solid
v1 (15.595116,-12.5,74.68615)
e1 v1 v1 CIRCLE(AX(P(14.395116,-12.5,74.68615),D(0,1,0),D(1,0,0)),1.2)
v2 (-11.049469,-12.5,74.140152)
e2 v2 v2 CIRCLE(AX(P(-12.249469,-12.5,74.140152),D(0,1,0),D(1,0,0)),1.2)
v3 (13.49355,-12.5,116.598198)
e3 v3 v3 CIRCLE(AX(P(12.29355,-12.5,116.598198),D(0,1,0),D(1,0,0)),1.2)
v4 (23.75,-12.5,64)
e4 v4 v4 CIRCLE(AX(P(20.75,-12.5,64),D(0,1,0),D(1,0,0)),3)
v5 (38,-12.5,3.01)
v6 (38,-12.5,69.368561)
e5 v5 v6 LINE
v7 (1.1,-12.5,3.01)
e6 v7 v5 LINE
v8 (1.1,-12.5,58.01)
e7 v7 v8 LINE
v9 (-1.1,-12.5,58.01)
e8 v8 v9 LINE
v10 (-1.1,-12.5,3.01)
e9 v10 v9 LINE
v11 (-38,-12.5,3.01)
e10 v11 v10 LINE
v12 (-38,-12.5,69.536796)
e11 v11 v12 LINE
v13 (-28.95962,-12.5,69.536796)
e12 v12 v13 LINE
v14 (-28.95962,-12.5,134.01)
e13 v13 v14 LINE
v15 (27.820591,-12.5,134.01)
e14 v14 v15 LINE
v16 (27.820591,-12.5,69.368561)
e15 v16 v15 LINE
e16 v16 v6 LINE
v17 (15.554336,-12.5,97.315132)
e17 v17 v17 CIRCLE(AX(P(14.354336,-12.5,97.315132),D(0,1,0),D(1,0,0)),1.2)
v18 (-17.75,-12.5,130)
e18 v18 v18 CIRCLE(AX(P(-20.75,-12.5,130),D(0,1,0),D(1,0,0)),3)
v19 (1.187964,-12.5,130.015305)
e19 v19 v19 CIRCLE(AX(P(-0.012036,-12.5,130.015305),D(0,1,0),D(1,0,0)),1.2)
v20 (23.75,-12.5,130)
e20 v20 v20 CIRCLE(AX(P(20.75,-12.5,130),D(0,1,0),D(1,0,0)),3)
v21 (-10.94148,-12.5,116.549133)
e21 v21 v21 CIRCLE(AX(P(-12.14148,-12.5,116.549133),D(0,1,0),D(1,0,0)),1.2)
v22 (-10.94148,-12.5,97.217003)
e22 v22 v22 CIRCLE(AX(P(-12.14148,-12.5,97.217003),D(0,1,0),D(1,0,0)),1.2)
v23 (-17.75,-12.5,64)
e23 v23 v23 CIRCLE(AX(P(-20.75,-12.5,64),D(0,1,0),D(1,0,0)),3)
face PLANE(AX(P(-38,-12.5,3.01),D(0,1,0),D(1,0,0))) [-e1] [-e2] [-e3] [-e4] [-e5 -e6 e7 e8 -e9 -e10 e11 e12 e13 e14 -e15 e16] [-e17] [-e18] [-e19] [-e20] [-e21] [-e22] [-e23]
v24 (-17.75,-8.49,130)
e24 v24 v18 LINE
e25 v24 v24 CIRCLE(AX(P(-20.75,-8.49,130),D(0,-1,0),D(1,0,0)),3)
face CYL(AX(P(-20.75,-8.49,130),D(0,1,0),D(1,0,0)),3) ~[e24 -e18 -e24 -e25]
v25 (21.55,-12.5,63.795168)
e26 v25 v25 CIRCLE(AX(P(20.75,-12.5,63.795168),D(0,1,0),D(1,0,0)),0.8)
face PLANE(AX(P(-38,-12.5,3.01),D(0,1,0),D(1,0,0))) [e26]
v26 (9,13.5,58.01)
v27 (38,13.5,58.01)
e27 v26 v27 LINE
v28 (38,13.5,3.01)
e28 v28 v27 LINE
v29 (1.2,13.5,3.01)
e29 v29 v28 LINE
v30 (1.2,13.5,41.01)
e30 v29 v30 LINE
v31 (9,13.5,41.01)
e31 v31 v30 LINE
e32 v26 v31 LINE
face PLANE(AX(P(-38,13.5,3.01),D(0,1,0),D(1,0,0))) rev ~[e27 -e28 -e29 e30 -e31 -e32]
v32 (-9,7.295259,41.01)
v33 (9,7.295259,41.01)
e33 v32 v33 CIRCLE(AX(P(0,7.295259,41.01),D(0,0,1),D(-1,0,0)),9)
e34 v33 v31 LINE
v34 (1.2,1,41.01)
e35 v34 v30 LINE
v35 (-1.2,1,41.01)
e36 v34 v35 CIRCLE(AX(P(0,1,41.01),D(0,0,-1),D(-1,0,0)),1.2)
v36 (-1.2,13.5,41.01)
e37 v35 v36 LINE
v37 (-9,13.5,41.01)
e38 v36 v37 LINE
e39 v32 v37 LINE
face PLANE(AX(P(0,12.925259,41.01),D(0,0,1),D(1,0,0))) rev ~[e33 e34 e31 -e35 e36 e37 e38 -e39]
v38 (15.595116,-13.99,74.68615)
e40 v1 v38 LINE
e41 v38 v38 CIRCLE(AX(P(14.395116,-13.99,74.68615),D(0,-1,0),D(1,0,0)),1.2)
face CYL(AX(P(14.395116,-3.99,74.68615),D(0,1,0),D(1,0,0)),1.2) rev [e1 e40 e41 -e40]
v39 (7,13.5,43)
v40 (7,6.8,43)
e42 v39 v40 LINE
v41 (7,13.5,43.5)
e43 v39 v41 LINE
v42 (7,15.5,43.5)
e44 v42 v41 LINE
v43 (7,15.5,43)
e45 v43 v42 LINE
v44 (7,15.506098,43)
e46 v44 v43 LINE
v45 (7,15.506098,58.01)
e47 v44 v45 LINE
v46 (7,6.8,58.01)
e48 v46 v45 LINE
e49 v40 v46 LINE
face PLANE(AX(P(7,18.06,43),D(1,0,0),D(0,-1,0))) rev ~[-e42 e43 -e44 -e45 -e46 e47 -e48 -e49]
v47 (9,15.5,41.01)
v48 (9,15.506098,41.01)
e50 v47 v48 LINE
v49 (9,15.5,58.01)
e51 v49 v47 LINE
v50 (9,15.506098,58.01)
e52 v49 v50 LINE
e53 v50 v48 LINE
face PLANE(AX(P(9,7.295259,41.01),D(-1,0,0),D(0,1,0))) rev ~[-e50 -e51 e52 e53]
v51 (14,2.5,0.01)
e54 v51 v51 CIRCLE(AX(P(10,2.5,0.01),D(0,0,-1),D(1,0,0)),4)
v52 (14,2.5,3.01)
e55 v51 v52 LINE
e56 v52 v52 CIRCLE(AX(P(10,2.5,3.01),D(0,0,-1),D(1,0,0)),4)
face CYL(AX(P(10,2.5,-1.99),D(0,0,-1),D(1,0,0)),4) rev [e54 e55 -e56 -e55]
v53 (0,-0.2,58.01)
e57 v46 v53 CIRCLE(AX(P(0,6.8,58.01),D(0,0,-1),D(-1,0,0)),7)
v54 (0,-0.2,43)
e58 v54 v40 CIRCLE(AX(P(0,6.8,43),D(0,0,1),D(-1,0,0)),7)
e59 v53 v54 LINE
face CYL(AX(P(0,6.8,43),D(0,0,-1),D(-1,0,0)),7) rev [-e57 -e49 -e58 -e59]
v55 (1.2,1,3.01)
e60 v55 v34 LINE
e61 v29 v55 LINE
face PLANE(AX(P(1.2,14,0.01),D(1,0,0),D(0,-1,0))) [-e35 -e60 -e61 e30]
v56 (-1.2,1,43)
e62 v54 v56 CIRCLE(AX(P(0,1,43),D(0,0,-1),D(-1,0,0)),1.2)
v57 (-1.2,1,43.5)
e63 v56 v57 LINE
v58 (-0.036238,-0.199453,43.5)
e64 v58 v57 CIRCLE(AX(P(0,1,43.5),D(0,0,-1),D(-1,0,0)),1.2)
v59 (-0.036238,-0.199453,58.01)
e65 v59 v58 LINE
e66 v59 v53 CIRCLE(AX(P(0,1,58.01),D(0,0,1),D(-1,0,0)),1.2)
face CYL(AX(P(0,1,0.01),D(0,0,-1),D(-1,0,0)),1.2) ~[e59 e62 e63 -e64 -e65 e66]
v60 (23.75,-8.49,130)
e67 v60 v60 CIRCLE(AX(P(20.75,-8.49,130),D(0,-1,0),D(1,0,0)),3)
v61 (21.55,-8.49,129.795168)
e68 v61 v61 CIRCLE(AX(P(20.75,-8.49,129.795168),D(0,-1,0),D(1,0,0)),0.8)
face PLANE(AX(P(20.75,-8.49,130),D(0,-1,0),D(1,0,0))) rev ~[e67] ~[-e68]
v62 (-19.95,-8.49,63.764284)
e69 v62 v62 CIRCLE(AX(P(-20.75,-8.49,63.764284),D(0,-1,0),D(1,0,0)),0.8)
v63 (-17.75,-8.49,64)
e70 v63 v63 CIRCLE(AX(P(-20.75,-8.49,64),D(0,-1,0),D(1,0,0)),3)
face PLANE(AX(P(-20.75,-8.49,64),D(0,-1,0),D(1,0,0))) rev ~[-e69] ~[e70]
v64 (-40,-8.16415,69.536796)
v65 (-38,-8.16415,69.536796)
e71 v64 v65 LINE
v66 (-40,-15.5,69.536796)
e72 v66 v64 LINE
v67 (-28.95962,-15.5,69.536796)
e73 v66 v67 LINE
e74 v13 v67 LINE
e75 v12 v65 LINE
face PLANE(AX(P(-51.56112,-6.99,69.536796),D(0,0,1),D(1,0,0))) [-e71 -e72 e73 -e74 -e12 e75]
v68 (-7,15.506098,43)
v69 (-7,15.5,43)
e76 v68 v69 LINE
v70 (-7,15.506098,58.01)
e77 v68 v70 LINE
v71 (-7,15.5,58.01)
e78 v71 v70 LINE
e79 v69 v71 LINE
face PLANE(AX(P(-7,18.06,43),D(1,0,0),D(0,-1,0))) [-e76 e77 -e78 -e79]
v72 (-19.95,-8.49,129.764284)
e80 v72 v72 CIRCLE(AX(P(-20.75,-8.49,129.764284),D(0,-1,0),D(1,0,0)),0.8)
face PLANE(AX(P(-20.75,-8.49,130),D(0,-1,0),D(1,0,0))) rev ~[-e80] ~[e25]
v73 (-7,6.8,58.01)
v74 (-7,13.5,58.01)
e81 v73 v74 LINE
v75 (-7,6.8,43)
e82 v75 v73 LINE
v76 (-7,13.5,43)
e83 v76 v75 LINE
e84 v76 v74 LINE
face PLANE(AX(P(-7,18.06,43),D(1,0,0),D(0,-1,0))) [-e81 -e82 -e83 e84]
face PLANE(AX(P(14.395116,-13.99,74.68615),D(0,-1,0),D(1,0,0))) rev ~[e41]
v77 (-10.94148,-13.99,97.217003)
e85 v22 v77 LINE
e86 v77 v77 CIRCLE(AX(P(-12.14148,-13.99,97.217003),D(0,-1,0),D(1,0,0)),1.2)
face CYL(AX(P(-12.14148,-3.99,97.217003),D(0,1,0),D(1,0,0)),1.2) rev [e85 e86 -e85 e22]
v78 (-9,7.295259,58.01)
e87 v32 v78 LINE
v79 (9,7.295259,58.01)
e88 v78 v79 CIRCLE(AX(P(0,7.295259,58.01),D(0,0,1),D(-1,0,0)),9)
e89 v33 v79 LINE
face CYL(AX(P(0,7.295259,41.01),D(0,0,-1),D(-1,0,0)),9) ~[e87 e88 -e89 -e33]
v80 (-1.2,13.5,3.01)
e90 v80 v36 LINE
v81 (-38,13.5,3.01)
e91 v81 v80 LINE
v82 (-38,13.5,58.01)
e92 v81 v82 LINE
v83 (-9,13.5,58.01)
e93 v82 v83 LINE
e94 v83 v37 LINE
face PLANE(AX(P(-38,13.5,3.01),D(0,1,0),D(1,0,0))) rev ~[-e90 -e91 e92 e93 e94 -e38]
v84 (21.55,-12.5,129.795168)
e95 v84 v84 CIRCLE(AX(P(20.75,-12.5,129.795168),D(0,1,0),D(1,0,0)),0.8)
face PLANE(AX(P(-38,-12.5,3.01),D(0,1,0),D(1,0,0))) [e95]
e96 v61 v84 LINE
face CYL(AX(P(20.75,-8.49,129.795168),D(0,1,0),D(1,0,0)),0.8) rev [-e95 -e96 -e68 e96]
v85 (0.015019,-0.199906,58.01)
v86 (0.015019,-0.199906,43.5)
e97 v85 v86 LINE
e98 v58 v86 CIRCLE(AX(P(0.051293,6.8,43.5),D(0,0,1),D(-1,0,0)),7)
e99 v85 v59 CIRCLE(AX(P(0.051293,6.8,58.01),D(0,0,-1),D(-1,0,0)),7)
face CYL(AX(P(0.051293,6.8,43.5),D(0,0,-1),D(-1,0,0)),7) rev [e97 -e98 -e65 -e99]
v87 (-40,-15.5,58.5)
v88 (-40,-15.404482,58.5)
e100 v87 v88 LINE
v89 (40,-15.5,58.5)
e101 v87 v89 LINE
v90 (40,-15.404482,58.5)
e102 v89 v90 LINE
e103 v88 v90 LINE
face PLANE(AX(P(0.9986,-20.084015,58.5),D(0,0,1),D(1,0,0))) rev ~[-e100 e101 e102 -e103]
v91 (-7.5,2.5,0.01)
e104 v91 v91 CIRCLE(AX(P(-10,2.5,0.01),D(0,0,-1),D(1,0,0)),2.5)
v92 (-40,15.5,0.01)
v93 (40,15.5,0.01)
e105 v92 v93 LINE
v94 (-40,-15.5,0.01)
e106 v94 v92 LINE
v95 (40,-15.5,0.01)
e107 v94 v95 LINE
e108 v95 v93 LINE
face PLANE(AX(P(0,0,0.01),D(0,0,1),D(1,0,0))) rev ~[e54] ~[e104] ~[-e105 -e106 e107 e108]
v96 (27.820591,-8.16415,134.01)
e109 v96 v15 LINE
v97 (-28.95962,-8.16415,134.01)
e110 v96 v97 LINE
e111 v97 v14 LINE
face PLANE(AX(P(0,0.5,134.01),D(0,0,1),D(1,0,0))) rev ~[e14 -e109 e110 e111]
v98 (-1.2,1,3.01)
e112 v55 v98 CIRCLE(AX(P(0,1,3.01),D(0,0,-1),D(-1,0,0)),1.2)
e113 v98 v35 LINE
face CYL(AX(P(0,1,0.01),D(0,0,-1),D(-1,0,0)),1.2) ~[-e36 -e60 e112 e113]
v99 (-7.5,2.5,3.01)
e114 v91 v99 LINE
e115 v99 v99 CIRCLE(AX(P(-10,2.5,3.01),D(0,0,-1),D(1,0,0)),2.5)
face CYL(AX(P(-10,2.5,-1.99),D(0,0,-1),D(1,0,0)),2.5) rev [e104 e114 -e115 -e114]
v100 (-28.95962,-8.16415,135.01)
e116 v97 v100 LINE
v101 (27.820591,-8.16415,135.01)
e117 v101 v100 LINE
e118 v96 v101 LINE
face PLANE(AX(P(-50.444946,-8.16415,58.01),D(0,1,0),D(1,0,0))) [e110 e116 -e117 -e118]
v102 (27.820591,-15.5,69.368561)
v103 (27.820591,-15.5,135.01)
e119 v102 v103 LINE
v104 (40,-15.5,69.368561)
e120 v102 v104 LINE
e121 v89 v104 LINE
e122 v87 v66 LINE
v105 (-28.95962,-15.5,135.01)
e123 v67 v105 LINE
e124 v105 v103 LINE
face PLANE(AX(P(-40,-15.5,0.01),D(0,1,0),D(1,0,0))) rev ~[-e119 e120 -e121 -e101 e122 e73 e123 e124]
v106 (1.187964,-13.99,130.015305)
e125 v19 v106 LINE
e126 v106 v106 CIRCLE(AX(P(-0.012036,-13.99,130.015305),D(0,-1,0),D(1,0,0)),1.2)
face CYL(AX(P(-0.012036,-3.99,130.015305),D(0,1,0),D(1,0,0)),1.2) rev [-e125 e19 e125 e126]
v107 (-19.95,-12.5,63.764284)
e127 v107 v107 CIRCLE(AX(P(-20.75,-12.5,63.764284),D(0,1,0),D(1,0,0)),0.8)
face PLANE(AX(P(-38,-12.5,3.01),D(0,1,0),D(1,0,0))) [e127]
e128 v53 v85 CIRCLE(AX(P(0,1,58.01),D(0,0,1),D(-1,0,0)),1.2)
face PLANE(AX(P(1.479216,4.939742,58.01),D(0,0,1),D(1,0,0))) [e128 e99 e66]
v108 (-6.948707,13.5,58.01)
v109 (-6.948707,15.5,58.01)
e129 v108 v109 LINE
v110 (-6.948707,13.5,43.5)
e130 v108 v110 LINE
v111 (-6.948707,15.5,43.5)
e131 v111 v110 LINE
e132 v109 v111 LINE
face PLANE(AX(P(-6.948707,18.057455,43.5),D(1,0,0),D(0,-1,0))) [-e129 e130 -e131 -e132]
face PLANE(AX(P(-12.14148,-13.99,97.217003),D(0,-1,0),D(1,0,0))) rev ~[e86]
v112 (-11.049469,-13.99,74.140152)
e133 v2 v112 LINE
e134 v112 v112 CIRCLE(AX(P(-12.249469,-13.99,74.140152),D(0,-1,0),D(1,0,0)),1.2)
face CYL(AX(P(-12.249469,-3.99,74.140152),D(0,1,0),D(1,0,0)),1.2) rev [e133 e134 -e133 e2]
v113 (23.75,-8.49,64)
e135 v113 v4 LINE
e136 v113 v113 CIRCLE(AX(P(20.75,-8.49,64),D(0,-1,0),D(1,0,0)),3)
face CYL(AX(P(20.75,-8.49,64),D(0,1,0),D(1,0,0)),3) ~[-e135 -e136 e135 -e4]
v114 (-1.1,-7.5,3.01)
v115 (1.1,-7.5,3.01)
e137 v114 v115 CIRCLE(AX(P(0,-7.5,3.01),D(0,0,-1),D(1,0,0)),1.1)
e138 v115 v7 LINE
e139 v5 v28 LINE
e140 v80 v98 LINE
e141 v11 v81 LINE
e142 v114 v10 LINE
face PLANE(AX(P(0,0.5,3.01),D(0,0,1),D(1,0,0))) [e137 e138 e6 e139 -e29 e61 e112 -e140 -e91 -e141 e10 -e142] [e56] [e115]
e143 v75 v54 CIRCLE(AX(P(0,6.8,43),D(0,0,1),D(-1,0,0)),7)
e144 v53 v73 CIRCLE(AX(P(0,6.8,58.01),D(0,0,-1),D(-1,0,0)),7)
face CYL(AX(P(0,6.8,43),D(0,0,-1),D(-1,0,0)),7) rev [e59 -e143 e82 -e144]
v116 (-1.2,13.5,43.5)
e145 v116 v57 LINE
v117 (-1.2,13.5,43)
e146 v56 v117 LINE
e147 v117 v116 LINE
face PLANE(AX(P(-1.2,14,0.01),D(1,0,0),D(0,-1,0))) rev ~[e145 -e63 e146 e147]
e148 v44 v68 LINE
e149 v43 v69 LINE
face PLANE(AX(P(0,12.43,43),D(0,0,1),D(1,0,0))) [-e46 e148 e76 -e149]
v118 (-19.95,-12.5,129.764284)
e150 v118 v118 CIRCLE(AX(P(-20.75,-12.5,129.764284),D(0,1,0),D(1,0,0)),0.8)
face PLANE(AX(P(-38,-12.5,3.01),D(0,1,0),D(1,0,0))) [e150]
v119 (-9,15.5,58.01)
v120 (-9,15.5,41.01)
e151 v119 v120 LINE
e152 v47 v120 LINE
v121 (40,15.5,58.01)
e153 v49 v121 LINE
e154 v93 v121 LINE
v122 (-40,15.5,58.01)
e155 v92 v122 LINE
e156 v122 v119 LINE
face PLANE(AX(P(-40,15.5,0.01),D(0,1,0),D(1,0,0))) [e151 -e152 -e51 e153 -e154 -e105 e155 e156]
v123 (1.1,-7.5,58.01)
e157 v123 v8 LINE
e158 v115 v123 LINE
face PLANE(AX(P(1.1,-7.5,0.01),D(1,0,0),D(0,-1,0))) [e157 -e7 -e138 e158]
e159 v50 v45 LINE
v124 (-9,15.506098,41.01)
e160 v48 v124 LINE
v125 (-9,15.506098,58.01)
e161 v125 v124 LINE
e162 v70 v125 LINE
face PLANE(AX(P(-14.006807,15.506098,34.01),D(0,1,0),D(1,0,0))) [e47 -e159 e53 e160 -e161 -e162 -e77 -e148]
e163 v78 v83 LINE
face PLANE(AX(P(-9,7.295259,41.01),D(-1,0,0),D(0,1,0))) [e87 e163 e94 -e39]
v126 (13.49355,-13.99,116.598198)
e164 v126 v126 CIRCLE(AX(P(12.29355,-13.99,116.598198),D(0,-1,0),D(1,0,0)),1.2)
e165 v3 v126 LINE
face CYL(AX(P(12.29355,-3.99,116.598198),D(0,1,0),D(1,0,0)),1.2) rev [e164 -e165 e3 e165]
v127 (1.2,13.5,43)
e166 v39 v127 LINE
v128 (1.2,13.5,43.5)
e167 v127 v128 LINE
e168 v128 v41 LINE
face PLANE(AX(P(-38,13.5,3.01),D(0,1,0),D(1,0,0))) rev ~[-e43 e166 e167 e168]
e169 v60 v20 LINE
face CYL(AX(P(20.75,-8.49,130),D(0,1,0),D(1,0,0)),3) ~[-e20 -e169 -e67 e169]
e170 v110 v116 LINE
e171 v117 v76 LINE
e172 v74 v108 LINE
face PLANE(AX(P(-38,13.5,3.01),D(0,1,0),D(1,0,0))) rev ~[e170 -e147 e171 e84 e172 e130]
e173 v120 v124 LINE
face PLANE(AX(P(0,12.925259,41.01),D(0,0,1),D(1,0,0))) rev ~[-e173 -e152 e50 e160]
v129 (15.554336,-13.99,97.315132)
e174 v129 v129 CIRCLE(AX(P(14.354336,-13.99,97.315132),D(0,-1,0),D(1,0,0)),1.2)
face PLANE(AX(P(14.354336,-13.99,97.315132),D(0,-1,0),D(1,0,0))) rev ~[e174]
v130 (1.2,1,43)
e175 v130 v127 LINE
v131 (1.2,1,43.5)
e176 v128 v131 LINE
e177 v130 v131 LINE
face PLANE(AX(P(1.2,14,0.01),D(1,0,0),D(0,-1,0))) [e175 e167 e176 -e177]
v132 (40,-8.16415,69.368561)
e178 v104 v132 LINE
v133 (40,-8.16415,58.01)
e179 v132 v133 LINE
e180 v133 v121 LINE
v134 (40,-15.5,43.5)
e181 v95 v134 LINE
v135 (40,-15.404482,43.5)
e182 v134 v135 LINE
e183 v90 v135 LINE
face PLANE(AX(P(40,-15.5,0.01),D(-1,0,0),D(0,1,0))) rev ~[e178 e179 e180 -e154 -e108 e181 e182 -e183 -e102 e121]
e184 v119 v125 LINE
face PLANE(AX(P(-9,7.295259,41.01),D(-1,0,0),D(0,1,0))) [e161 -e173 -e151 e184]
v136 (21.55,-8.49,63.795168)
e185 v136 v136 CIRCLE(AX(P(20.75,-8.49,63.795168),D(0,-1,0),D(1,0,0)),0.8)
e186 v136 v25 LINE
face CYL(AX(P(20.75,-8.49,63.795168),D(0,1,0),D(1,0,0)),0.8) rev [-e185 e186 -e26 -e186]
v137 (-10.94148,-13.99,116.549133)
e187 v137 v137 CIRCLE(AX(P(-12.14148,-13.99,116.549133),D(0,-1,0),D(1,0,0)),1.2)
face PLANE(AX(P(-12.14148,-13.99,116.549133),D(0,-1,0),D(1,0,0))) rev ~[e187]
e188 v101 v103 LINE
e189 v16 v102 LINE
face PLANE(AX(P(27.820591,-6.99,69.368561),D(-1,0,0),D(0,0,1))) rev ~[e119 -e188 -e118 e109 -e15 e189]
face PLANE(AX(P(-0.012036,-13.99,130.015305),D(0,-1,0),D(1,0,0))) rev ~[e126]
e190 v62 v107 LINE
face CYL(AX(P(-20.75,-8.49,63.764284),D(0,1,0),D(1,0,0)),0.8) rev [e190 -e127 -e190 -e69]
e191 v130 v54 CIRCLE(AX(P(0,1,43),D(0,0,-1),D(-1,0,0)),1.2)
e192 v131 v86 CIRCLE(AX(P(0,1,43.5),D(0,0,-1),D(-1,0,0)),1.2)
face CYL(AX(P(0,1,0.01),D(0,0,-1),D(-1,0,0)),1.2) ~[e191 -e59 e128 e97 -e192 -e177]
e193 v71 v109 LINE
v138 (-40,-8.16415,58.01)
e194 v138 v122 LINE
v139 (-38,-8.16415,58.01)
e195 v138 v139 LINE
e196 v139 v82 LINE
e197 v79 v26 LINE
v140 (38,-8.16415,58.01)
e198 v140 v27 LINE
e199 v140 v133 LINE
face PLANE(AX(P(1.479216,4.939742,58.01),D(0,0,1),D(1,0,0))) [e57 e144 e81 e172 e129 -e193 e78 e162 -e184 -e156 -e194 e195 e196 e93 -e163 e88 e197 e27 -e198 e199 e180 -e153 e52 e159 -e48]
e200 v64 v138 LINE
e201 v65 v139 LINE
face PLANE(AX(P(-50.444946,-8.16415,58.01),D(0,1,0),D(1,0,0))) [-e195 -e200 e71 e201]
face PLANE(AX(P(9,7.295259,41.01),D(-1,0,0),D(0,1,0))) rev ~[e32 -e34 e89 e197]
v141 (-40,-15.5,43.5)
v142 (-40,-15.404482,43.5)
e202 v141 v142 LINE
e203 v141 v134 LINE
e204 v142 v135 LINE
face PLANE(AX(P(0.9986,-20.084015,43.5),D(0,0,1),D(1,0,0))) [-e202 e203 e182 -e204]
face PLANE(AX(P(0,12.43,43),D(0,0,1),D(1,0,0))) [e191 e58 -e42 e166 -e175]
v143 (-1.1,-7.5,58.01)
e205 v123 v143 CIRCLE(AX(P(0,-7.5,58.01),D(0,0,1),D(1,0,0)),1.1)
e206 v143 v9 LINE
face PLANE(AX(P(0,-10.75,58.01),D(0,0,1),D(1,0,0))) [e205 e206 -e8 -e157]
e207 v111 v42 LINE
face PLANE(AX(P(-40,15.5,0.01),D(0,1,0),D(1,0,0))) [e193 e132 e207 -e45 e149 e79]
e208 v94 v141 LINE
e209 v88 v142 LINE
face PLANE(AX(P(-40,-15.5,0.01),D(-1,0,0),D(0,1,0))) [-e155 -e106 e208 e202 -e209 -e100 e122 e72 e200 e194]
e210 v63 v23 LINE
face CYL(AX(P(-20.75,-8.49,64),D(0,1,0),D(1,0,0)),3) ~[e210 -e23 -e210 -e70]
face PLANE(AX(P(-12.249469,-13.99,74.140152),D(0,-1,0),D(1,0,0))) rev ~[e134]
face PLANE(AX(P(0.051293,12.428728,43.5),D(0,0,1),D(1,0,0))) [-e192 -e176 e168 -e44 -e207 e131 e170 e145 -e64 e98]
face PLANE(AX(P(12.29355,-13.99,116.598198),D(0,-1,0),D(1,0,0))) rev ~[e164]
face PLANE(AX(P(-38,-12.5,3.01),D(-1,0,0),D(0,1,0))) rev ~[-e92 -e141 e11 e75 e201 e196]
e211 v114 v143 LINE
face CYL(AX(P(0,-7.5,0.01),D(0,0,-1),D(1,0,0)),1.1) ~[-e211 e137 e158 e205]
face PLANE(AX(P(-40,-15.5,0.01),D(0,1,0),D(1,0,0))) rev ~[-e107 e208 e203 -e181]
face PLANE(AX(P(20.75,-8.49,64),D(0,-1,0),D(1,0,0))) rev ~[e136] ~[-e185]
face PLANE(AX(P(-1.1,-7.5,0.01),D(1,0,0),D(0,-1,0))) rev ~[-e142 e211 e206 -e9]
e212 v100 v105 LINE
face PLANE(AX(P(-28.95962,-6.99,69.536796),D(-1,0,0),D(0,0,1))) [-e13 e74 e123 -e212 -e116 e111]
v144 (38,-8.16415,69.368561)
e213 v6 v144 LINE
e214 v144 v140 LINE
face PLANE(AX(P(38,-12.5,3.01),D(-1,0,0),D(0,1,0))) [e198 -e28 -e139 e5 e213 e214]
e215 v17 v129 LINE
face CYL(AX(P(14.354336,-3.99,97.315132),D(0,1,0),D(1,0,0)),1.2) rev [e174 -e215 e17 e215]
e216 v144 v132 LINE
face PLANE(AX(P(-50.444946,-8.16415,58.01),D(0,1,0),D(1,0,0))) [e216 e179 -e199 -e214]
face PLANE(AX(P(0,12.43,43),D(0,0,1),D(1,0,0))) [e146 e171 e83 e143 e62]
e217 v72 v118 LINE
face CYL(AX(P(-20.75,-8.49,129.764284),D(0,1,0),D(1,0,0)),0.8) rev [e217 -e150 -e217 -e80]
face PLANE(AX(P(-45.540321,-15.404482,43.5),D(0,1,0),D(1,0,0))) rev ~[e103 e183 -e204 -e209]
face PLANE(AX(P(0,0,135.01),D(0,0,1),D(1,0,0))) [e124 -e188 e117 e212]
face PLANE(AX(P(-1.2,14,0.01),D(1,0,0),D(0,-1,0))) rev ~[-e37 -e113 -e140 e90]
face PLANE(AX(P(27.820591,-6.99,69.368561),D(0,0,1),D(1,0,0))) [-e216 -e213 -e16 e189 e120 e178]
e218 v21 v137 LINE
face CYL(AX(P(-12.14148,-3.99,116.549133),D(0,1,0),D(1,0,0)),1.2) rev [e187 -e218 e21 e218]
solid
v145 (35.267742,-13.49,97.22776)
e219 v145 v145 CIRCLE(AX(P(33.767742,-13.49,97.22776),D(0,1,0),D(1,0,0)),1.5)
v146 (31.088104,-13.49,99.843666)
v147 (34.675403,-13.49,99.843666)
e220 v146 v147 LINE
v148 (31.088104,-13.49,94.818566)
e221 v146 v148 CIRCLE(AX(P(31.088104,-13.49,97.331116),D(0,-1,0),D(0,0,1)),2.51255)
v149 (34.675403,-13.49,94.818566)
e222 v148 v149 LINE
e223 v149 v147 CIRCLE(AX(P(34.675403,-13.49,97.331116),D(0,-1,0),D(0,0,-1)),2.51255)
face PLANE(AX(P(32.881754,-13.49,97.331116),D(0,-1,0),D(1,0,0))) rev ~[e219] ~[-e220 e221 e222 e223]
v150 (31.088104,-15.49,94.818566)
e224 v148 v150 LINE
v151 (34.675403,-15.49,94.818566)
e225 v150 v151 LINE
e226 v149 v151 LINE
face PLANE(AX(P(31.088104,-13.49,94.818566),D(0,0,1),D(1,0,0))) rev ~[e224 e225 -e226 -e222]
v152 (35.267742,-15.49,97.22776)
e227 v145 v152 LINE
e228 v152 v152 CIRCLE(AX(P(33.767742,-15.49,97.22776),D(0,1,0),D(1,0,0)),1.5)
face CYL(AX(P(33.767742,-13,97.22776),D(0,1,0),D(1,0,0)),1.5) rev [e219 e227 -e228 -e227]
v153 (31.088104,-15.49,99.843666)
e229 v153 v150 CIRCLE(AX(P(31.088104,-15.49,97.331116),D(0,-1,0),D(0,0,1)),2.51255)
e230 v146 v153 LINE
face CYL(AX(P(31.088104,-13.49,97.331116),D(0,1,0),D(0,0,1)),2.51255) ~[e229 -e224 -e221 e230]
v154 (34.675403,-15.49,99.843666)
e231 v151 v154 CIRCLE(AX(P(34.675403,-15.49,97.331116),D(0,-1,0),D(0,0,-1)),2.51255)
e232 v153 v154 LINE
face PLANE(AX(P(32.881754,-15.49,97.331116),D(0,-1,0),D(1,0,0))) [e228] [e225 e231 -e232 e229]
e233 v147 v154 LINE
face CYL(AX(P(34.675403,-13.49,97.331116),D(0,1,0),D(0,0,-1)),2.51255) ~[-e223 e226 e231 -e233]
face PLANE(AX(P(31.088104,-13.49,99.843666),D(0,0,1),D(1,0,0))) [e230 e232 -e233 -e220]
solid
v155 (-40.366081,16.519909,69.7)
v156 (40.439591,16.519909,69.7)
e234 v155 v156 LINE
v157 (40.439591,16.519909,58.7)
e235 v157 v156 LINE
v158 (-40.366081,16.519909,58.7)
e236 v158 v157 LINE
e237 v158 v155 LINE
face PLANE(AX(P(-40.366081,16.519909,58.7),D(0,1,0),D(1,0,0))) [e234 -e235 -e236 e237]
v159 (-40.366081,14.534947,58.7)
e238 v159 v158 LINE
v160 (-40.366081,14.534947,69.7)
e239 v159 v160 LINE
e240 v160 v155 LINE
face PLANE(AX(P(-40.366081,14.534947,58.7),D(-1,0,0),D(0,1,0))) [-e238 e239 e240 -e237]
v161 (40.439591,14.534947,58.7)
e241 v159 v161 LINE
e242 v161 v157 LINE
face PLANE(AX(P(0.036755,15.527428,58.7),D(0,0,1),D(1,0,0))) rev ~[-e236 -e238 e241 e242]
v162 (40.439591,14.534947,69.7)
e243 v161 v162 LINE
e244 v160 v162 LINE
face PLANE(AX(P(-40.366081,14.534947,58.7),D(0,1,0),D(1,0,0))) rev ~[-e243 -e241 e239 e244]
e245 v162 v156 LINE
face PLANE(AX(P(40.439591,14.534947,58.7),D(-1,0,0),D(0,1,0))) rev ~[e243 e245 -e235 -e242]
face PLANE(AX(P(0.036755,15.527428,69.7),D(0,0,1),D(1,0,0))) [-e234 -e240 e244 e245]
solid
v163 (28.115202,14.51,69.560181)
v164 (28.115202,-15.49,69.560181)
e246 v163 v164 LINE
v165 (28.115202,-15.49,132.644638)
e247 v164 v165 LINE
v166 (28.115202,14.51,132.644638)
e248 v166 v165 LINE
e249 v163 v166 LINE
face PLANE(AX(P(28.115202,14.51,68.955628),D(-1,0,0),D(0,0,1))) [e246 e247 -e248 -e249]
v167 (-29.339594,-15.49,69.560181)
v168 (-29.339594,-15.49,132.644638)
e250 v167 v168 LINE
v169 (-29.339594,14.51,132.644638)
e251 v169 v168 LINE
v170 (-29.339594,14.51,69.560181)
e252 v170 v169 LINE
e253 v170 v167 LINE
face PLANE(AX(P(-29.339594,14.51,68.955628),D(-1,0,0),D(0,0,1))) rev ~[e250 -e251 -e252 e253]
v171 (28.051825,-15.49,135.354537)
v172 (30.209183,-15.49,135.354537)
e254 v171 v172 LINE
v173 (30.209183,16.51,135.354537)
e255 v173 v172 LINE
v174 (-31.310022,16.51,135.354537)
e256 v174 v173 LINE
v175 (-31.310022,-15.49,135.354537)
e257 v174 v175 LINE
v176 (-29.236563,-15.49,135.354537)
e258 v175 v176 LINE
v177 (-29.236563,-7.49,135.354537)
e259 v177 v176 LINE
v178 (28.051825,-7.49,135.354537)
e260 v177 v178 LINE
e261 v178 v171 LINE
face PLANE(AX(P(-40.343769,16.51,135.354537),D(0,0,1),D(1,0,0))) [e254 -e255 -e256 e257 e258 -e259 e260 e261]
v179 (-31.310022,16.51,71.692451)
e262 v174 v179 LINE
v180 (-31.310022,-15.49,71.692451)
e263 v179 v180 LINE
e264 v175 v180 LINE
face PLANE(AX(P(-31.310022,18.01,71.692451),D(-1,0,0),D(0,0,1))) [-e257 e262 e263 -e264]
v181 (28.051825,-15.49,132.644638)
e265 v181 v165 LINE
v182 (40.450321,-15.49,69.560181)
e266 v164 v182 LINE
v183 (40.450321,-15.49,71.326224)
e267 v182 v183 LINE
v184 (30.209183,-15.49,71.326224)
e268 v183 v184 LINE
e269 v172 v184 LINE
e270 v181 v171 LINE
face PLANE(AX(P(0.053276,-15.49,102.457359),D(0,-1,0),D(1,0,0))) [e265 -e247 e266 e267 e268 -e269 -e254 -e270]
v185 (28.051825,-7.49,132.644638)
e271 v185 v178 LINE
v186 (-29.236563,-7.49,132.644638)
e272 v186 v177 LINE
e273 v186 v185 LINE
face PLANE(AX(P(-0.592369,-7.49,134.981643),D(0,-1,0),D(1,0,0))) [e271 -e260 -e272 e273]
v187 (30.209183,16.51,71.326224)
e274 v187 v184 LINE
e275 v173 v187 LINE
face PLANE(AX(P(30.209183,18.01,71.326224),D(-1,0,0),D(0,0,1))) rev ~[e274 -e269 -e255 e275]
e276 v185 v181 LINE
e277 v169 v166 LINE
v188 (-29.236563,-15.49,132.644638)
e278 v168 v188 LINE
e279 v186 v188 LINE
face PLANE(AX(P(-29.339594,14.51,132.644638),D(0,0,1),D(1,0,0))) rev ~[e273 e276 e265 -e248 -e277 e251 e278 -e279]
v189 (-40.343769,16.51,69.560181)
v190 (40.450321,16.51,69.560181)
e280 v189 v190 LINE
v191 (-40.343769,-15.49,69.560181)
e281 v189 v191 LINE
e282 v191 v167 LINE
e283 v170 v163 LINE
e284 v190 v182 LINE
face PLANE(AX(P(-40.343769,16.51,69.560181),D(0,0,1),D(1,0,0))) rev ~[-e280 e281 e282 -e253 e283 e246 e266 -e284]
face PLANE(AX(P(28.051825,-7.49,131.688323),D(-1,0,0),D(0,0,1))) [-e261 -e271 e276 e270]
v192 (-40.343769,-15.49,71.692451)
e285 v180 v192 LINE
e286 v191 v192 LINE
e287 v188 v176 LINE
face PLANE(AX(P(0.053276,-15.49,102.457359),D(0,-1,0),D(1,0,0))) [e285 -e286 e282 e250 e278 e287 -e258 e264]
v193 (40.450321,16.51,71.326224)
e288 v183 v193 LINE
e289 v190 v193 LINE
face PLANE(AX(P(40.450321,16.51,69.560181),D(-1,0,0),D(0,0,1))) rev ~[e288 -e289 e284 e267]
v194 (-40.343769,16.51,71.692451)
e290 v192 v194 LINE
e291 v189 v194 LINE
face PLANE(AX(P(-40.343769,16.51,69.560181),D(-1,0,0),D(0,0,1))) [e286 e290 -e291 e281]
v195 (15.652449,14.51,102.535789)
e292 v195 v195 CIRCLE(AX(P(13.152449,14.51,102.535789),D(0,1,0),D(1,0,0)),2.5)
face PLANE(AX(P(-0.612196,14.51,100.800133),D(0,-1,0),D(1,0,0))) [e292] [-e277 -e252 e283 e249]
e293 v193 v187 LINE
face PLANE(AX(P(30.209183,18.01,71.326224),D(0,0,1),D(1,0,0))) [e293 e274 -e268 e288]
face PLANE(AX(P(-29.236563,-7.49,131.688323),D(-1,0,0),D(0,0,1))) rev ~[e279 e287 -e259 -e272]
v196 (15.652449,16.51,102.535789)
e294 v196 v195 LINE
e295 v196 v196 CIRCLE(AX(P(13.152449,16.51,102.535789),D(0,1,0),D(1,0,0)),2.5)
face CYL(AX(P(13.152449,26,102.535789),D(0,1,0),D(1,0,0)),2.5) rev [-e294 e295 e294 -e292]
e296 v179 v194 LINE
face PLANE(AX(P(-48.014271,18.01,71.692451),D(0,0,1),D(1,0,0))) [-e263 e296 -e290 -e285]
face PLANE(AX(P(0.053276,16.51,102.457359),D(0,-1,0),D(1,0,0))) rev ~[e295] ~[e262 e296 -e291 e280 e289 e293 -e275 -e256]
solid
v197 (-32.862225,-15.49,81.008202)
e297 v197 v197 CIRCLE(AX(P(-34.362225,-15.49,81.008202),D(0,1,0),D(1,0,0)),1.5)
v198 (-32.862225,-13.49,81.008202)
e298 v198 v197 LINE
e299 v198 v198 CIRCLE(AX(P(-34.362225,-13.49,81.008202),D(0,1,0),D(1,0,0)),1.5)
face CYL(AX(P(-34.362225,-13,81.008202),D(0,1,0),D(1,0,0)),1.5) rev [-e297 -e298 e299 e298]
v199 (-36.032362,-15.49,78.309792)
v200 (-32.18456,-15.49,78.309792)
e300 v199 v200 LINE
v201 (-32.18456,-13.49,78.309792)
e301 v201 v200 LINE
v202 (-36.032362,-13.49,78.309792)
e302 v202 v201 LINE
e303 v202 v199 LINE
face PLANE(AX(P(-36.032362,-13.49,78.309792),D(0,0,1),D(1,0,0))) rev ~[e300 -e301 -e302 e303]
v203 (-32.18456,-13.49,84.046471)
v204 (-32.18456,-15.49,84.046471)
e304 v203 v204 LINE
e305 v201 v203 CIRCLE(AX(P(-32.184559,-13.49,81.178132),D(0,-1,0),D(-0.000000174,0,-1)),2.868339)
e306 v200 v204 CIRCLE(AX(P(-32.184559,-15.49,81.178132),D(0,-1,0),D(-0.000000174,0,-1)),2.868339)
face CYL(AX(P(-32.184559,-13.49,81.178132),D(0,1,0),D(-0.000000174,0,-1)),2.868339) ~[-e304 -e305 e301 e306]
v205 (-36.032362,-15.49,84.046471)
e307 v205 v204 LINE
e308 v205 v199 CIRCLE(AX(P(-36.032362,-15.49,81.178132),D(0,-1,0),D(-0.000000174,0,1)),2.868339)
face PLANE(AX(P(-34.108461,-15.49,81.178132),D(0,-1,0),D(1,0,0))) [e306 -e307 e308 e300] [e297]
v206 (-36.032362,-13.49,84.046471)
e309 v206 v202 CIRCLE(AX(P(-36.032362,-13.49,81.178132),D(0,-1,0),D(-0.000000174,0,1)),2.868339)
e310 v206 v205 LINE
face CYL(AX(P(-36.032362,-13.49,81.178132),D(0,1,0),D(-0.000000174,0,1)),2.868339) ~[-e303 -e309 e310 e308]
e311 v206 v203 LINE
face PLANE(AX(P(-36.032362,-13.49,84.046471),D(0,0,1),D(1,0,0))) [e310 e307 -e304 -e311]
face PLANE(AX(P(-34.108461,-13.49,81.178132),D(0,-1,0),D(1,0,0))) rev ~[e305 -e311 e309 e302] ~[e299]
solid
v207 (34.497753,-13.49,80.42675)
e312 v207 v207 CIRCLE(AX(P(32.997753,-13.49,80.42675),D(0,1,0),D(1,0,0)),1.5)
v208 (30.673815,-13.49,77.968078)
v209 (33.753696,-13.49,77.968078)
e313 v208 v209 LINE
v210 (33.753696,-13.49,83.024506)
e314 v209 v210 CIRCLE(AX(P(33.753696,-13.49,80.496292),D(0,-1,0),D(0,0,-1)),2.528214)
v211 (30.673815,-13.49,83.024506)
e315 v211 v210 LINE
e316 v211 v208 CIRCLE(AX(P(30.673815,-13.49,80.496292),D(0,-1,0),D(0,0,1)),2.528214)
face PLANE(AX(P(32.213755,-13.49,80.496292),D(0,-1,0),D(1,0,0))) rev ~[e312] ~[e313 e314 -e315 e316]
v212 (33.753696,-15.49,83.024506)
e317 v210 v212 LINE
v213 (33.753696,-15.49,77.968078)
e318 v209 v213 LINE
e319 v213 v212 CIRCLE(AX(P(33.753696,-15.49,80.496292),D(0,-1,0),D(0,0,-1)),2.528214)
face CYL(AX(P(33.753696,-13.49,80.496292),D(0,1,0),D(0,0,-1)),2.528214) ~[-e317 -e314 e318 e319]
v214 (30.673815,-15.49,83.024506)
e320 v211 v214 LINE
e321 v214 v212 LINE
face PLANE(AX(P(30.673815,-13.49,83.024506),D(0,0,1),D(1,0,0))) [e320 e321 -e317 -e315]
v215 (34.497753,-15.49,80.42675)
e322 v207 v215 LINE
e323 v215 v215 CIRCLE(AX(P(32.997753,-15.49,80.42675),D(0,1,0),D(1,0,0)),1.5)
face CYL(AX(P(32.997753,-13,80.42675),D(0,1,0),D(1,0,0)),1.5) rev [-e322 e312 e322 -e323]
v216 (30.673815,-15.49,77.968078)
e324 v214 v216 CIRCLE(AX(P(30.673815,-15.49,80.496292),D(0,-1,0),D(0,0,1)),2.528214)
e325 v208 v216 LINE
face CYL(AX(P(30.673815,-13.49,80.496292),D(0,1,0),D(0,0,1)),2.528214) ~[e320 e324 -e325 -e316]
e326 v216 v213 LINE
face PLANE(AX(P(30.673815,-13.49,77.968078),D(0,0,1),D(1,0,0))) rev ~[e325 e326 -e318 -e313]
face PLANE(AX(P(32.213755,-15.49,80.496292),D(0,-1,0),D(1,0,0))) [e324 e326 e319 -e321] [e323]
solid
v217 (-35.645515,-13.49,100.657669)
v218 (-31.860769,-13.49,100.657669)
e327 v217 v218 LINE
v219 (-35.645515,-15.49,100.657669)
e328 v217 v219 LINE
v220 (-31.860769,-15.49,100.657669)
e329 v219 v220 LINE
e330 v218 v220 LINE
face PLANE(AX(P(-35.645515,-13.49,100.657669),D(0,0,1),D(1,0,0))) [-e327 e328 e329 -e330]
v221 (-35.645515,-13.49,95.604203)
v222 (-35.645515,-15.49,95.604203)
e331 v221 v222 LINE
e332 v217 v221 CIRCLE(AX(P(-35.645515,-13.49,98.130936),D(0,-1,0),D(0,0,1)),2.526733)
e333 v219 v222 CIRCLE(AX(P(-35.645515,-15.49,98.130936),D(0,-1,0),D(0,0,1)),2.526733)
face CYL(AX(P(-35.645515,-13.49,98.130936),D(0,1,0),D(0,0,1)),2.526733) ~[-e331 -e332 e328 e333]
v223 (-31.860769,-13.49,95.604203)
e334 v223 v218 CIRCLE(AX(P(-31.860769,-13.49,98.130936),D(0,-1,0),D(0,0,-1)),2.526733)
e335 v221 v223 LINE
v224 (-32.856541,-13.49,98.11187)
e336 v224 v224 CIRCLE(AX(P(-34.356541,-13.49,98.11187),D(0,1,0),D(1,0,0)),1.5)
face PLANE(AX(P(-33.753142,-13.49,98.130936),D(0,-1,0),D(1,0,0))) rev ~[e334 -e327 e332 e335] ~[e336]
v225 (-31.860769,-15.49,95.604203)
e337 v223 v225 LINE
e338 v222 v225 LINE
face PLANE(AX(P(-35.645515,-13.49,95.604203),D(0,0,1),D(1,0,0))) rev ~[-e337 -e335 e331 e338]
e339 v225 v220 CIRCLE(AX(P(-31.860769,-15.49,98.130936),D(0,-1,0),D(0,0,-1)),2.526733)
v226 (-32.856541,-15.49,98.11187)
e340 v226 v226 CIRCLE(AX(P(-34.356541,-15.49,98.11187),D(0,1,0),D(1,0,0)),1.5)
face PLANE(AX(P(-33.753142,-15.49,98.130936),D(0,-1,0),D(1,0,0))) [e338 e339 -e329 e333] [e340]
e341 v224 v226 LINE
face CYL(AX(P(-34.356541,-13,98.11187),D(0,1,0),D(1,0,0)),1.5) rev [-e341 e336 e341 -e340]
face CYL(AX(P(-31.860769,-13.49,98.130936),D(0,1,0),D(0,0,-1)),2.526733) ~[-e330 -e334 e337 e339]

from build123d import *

# Parameters (mm, degrees)
SKETCH010_W      = 93.077843
SKETCH010_H      = 9.359066
EXTRUDE009_DEPTH = 15
SKETCH007_R      = 0.8
EXTRUDE006_DEPTH = 7
SKETCH005_R      = 3
EXTRUDE005_DEPTH = 7
SKETCH009_W      = 24.537708
SKETCH009_H      = 68.216004
SKETCH009_W_2    = 22.6015
SKETCH009_H_2    = 69.83175
EXTRUDE008_DEPTH = 10
SKETCH008_R      = 1.2
EXTRUDE007_DEPTH = 10
SKETCH004_R      = 2.5
SKETCH004_R_2    = 4
EXTRUDE004_DEPTH = 10
SKETCH003_W      = 103.848324
SKETCH003_H      = 26.207784
EXTRUDE002_DEPTH = 130
SKETCH001_W      = 76
SKETCH001_H      = 26
EXTRUDE001_DEPTH = 131
SKETCH_W         = 80
SKETCH_H         = 31
EXTRUDE_DEPTH    = 135
EXTRUDE003_DEPTH = 58
SKETCH013_W      = 29.132362
SKETCH013_H      = 15.300188
EXTRUDE012_DEPTH = 25
EXTRUDE010_DEPTH = 23
EXTRUDE011_DEPTH = 17
SKETCH018_W      = 57.288389
SKETCH018_H      = 6.586639
EXTRUDE017_DEPTH = 8
SKETCH017_R      = 2.5
EXTRUDE016_DEPTH = 60
SKETCH016_W      = 17.079002
SKETCH016_H      = 64.598137
SKETCH016_W_2    = 16.704249
SKETCH016_H_2    = 67.157876
EXTRUDE015_DEPTH = 40
SKETCH015_W      = 57.454796
SKETCH015_H      = 63.68901
EXTRUDE014_DEPTH = 30
SKETCH014_W      = 80.79409
SKETCH014_H      = 65.794357
EXTRUDE013_DEPTH = 32
SKETCH020_R      = 1.5
EXTRUDE019_DEPTH = 10
EXTRUDE018_DEPTH = 2
SKETCH021_W      = 80.805672
SKETCH021_H      = 1.984962
PAD_DEPTH        = 11


with BuildPart() as extrude010:
    # Sketch010 → Extrude009 (new body)
    with BuildSketch(Plane(origin=(0, -7, 77), x_dir=(1, 0, 0), z_dir=(0, 0, 1))):
        with BuildLine():
            ThreePointArc((7.051293, 25.057455), (0.051293, 32.057455), (-6.948707, 25.057455))
            Line((-6.948707, 25.057455), (-6.948707, 13.8))
            ThreePointArc((-6.948707, 13.8), (0.051293, 6.8), (7.051293, 13.8))
            Line((7.051293, 25.057455), (7.051293, 13.8))
        make_face()
        with Locations((0.9986, -13.084015)):
            Rectangle(SKETCH010_W, SKETCH010_H)
    extrude(amount=EXTRUDE009_DEPTH)


with BuildPart() as extrude010_1:
    # Extrude009 placement: moved
    add(extrude010.part.moved(Location((0, 0, -33.5))))


with BuildPart() as extrude007:
    # Sketch007 → Extrude006 (new body)
    with BuildSketch(Plane.XZ.offset(-0.01)):
        with Locations((-20.75, 129.764284)):
            Circle(SKETCH007_R)
        with Locations((20.75, 129.795168)):
            Circle(SKETCH007_R)
        with Locations((-20.75, 63.764284)):
            Circle(SKETCH007_R)
        with Locations((20.75, 63.795168)):
            Circle(SKETCH007_R)
    extrude(amount=EXTRUDE006_DEPTH)


with BuildPart() as cut003:
    # Sketch005 → Extrude005 (new body)
    with BuildSketch(Plane(origin=(0, 0.01, 52), x_dir=(1, 0, 0), z_dir=(0, -1, 0))):
        with Locations((-20.75, 78)):
            Circle(SKETCH005_R)
        with Locations((20.75, 78)):
            Circle(SKETCH005_R)
        with Locations((-20.75, 12)):
            Circle(SKETCH005_R)
        with Locations((20.75, 12)):
            Circle(SKETCH005_R)
    extrude(amount=EXTRUDE005_DEPTH)

    # Cut003: cut Extrude007
    add(extrude007.part, mode=Mode.SUBTRACT)


with BuildPart() as cut003_1:
    # Cut003 placement: moved
    add(cut003.part.moved(Location((0, -8.5, 0))))


with BuildPart() as extrude009:
    # Sketch009 → Extrude008 (new body)
    with BuildSketch(Plane.XZ.offset(-0.01)):
        with Locations((40.089445, 103.476563)):
            Rectangle(SKETCH009_W, SKETCH009_H)
        with Locations((-40.26037, 104.452671)):
            Rectangle(SKETCH009_W_2, SKETCH009_H_2)
    extrude(amount=EXTRUDE008_DEPTH)


with BuildPart() as extrude009_1:
    # Extrude008 placement: moved
    add(extrude009.part.moved(Location((0, -7, 0))))


with BuildPart() as extrude008:
    # Sketch008 → Extrude007 (new body)
    with BuildSketch(Plane.XZ.offset(-0.01)):
        with Locations((-12.14148, 116.549133)):
            Circle(SKETCH008_R)
        with Locations((12.29355, 116.598198)):
            Circle(SKETCH008_R)
        with Locations((-12.14148, 97.217003)):
            Circle(SKETCH008_R)
        with Locations((14.354336, 97.315132)):
            Circle(SKETCH008_R)
        with Locations((-12.249469, 74.140152)):
            Circle(SKETCH008_R)
        with Locations((14.395116, 74.68615)):
            Circle(SKETCH008_R)
        with Locations((-0.012036, 130.015305)):
            Circle(SKETCH008_R)
    extrude(amount=EXTRUDE007_DEPTH)


with BuildPart() as extrude008_1:
    # Extrude007 placement: moved
    add(extrude008.part.moved(Location((0, -4, 0))))


with BuildPart() as extrude005:
    # Sketch004 → Extrude004 (new body)
    with BuildSketch(Plane.XY.offset(0.01)):
        with Locations((-10, 2.5)):
            Circle(SKETCH004_R)
        with Locations((10, 2.5)):
            Circle(SKETCH004_R_2)
    extrude(amount=EXTRUDE004_DEPTH)


with BuildPart() as extrude005_1:
    # Extrude004 placement: moved
    add(extrude005.part.moved(Location((0, 0, -2))))


with BuildPart() as extrude003:
    # Sketch003 → Extrude002 (new body)
    with BuildSketch(Plane.XY.offset(0.01)):
        with Locations((1.479216, 4.939742)):
            Rectangle(SKETCH003_W, SKETCH003_H)
    extrude(amount=EXTRUDE002_DEPTH)


with BuildPart() as extrude003_1:
    # Extrude002 placement: moved
    add(extrude003.part.moved(Location((0, 0, 58))))


with BuildPart() as extrude001:
    # Sketch001 → Extrude001 (new body)
    with BuildSketch(Plane.XY.offset(0.01)):
        with Locations((0, 0.5)):
            Rectangle(SKETCH001_W, SKETCH001_H)
    extrude(amount=EXTRUDE001_DEPTH)


with BuildPart() as extrude001_1:
    # Extrude001 placement: moved
    add(extrude001.part.moved(Location((0, 0, 3))))


with BuildPart() as cut005:
    # Sketch → Extrude (new body)
    with BuildSketch(Plane.XY.offset(0.01)):
        Rectangle(SKETCH_W, SKETCH_H)
    extrude(amount=EXTRUDE_DEPTH)

    # Cut: cut Extrude001
    add(extrude001_1.part, mode=Mode.SUBTRACT)

    # Cut001: cut Extrude003
    add(extrude003_1.part, mode=Mode.SUBTRACT)

    # Cut002: cut Extrude005
    add(extrude005_1.part, mode=Mode.SUBTRACT)

    # Cut004: cut Extrude008
    add(extrude008_1.part, mode=Mode.SUBTRACT)

    # Cut005: cut Extrude009
    add(extrude009_1.part, mode=Mode.SUBTRACT)


with BuildPart() as cut006:
    # Sketch002 → Extrude003 (new body)
    with BuildSketch(Plane.XY.offset(0.01)):
        with BuildLine():
            ThreePointArc((1.2, 14), (0, 15.2), (-1.2, 14))
            Line((-1.2, 14), (-1.2, 1))
            ThreePointArc((-1.2, 1), (0, -0.2), (1.2, 1))
            Line((1.2, 14), (1.2, 1))
        make_face()
        with BuildLine():
            ThreePointArc((1.1, -7.5), (0, -6.4), (-1.1, -7.5))
            Line((-1.1, -7.5), (-1.1, -14))
            ThreePointArc((-1.1, -14), (0, -15.1), (1.1, -14))
            Line((1.1, -7.5), (1.1, -14))
        make_face()
    extrude(amount=EXTRUDE003_DEPTH)

    # Fusion: union Cut003, Cut005
    add(cut003_1.part)
    add(cut005.part)

    # Cut006: cut Extrude010
    add(extrude010_1.part, mode=Mode.SUBTRACT)


with BuildPart() as extrude013:
    # Sketch013 → Extrude012 (new body)
    with BuildSketch(Plane.XY.offset(0.01)):
        with Locations((0.559374, 23.156192)):
            Rectangle(SKETCH013_W, SKETCH013_H)
    extrude(amount=EXTRUDE012_DEPTH)


with BuildPart() as extrude013_1:
    # Extrude012 placement: moved
    add(extrude013.part.moved(Location((0, 0, 34))))


with BuildPart() as extrude011:
    # Sketch011 → Extrude010 (new body)
    with BuildSketch(Plane(origin=(0, -7, 0), x_dir=(1, 0, 0), z_dir=(0, 0, 1))):
        with BuildLine():
            ThreePointArc((7, 25.06), (0, 32.06), (-7, 25.06))
            Line((-7, 25.06), (-7, 13.8))
            ThreePointArc((-7, 13.8), (0, 6.8), (7, 13.8))
            Line((7, 25.06), (7, 13.8))
        make_face()
    extrude(amount=EXTRUDE010_DEPTH)


with BuildPart() as extrude011_1:
    # Extrude010 placement: moved
    add(extrude011.part.moved(Location((0, 0, 2))))


with BuildPart() as fusion001:
    # Sketch012 → Extrude011 (new body)
    with BuildSketch(Plane.XY.offset(0.01)):
        with BuildLine():
            ThreePointArc((-9, 7.295259), (0, -1.704741), (9, 7.295259))
            Line((9, 7.295259), (9, 18.555259))
            ThreePointArc((9, 18.555259), (0, 27.555259), (-9, 18.555259))
            Line((-9, 7.295259), (-9, 18.555259))
        make_face()
    extrude(amount=EXTRUDE011_DEPTH)

    # Cut007: cut Extrude011
    add(extrude011_1.part, mode=Mode.SUBTRACT)


with BuildPart() as fusion001_1:
    # Cut007 placement: moved
    add(fusion001.part.moved(Location((0, 0, 41))))

    # Cut008: cut Extrude013
    add(extrude013_1.part, mode=Mode.SUBTRACT)

    # Fusion001: union Cut006
    add(cut006.part)


with BuildPart() as extrude018:
    # Sketch018 → Extrude017 (new body)
    with BuildSketch(Plane.XZ.offset(-0.01)):
        with Locations((-0.592369, 133.981643)):
            Rectangle(SKETCH018_W, SKETCH018_H)
    extrude(amount=EXTRUDE017_DEPTH)


with BuildPart() as extrude018_1:
    # Extrude017 placement: moved
    add(extrude018.part.moved(Location((0, -7.5, 1))))


with BuildPart() as extrude017:
    # Sketch017 → Extrude016 (new body)
    with BuildSketch(Plane(origin=(-1, 0, 33), x_dir=(1, 0, 0), z_dir=(0, -1, 0))):
        with Locations((14.152449, 69.535789)):
            Circle(SKETCH017_R)
    extrude(amount=EXTRUDE016_DEPTH)


with BuildPart() as extrude017_1:
    # Extrude016 placement: moved
    add(extrude017.part.moved(Location((0, 26, 0))))


with BuildPart() as extrude016:
    # Sketch016 → Extrude015 (new body)
    with BuildSketch(Plane.XZ.offset(-0.01)):
        with Locations((38.748684, 103.625293)):
            Rectangle(SKETCH016_W, SKETCH016_H)
        with Locations((-39.662146, 105.271389)):
            Rectangle(SKETCH016_W_2, SKETCH016_H_2)
    extrude(amount=EXTRUDE015_DEPTH)


with BuildPart() as extrude016_1:
    # Extrude015 placement: moved
    add(extrude016.part.moved(Location((0, 18, 0))))


with BuildPart() as extrude015:
    # Sketch015 → Extrude014 (new body)
    with BuildSketch(Plane.XZ.offset(-0.01)):
        with Locations((-0.612196, 100.800133)):
            Rectangle(SKETCH015_W, SKETCH015_H)
    extrude(amount=EXTRUDE014_DEPTH)


with BuildPart() as extrude015_1:
    # Extrude014 placement: moved
    add(extrude015.part.moved(Location((0, 14.5, 0))))


with BuildPart() as cut012:
    # Sketch014 → Extrude013 (new body)
    with BuildSketch(Plane.XZ.offset(-0.01)):
        with Locations((0.053276, 102.457359)):
            Rectangle(SKETCH014_W, SKETCH014_H)
    extrude(amount=EXTRUDE013_DEPTH)


with BuildPart() as cut012_1:
    # Extrude013 placement: moved
    add(cut012.part.moved(Location((0, 16.5, 0))))

    # Cut009: cut Extrude015
    add(extrude015_1.part, mode=Mode.SUBTRACT)

    # Cut010: cut Extrude016
    add(extrude016_1.part, mode=Mode.SUBTRACT)

    # Cut011: cut Extrude017
    add(extrude017_1.part, mode=Mode.SUBTRACT)

    # Cut012: cut Extrude018
    add(extrude018_1.part, mode=Mode.SUBTRACT)


with BuildPart() as extrude020:
    # Sketch020 → Extrude019 (new body)
    with BuildSketch(Plane.XZ.offset(13)):
        with Locations((-34.356541, 98.11187)):
            Circle(SKETCH020_R)
        with Locations((33.767742, 97.22776)):
            Circle(SKETCH020_R)
        with Locations((-34.362225, 81.008202)):
            Circle(SKETCH020_R)
        with Locations((32.997753, 80.42675)):
            Circle(SKETCH020_R)
    extrude(amount=EXTRUDE019_DEPTH)


with BuildPart() as cut013:
    # Sketch019 → Extrude018 (new body)
    with BuildSketch(Plane.XZ.offset(-0.01)):
        with BuildLine():
            ThreePointArc((30.673815, 83.024506), (28.145601, 80.496292), (30.673815, 77.968078))
            Line((30.673815, 77.968078), (33.753696, 77.968078))
            ThreePointArc((33.753696, 77.968078), (36.28191, 80.496292), (33.753696, 83.024506))
            Line((30.673815, 83.024506), (33.753696, 83.024506))
        make_face()
        with BuildLine():
            ThreePointArc((31.088104, 99.843666), (28.575554, 97.331116), (31.088104, 94.818566))
            Line((31.088104, 94.818566), (34.675403, 94.818566))
            ThreePointArc((34.675403, 94.818566), (37.187953, 97.331116), (34.675403, 99.843666))
            Line((31.088104, 99.843666), (34.675403, 99.843666))
        make_face()
        with BuildLine():
            ThreePointArc((-35.645515, 100.657669), (-38.172248, 98.130936), (-35.645515, 95.604203))
            Line((-35.645515, 95.604203), (-31.860769, 95.604203))
            ThreePointArc((-31.860769, 95.604203), (-29.334036, 98.130936), (-31.860769, 100.657669))
            Line((-35.645515, 100.657669), (-31.860769, 100.657669))
        make_face()
        with BuildLine():
            ThreePointArc((-36.032362, 84.046471), (-38.900701, 81.178131), (-36.032362, 78.309792))
            Line((-36.032362, 78.309792), (-32.18456, 78.309792))
            ThreePointArc((-32.18456, 78.309792), (-29.31622, 81.178131), (-32.18456, 84.046471))
            Line((-36.032362, 84.046471), (-32.18456, 84.046471))
        make_face()
    extrude(amount=EXTRUDE018_DEPTH)


with BuildPart() as cut013_1:
    # Extrude018 placement: moved
    add(cut013.part.moved(Location((0, -13.5, 0))))

    # Cut013: cut Extrude020
    add(extrude020.part, mode=Mode.SUBTRACT)


with BuildPart() as body001:
    # Sketch021 → Pad (new body)
    with BuildSketch(Plane.XY):
        with Locations((0.036755, 15.527428)):
            Rectangle(SKETCH021_W, SKETCH021_H)
    extrude(amount=PAD_DEPTH)


with BuildPart() as body001_1:
    # Body001 placement: moved
    add(body001.part.moved(Location((0, 0, 58.7))))


solid = Compound([fusion001_1.part, cut012_1.part, cut013_1.part, body001_1.part])
